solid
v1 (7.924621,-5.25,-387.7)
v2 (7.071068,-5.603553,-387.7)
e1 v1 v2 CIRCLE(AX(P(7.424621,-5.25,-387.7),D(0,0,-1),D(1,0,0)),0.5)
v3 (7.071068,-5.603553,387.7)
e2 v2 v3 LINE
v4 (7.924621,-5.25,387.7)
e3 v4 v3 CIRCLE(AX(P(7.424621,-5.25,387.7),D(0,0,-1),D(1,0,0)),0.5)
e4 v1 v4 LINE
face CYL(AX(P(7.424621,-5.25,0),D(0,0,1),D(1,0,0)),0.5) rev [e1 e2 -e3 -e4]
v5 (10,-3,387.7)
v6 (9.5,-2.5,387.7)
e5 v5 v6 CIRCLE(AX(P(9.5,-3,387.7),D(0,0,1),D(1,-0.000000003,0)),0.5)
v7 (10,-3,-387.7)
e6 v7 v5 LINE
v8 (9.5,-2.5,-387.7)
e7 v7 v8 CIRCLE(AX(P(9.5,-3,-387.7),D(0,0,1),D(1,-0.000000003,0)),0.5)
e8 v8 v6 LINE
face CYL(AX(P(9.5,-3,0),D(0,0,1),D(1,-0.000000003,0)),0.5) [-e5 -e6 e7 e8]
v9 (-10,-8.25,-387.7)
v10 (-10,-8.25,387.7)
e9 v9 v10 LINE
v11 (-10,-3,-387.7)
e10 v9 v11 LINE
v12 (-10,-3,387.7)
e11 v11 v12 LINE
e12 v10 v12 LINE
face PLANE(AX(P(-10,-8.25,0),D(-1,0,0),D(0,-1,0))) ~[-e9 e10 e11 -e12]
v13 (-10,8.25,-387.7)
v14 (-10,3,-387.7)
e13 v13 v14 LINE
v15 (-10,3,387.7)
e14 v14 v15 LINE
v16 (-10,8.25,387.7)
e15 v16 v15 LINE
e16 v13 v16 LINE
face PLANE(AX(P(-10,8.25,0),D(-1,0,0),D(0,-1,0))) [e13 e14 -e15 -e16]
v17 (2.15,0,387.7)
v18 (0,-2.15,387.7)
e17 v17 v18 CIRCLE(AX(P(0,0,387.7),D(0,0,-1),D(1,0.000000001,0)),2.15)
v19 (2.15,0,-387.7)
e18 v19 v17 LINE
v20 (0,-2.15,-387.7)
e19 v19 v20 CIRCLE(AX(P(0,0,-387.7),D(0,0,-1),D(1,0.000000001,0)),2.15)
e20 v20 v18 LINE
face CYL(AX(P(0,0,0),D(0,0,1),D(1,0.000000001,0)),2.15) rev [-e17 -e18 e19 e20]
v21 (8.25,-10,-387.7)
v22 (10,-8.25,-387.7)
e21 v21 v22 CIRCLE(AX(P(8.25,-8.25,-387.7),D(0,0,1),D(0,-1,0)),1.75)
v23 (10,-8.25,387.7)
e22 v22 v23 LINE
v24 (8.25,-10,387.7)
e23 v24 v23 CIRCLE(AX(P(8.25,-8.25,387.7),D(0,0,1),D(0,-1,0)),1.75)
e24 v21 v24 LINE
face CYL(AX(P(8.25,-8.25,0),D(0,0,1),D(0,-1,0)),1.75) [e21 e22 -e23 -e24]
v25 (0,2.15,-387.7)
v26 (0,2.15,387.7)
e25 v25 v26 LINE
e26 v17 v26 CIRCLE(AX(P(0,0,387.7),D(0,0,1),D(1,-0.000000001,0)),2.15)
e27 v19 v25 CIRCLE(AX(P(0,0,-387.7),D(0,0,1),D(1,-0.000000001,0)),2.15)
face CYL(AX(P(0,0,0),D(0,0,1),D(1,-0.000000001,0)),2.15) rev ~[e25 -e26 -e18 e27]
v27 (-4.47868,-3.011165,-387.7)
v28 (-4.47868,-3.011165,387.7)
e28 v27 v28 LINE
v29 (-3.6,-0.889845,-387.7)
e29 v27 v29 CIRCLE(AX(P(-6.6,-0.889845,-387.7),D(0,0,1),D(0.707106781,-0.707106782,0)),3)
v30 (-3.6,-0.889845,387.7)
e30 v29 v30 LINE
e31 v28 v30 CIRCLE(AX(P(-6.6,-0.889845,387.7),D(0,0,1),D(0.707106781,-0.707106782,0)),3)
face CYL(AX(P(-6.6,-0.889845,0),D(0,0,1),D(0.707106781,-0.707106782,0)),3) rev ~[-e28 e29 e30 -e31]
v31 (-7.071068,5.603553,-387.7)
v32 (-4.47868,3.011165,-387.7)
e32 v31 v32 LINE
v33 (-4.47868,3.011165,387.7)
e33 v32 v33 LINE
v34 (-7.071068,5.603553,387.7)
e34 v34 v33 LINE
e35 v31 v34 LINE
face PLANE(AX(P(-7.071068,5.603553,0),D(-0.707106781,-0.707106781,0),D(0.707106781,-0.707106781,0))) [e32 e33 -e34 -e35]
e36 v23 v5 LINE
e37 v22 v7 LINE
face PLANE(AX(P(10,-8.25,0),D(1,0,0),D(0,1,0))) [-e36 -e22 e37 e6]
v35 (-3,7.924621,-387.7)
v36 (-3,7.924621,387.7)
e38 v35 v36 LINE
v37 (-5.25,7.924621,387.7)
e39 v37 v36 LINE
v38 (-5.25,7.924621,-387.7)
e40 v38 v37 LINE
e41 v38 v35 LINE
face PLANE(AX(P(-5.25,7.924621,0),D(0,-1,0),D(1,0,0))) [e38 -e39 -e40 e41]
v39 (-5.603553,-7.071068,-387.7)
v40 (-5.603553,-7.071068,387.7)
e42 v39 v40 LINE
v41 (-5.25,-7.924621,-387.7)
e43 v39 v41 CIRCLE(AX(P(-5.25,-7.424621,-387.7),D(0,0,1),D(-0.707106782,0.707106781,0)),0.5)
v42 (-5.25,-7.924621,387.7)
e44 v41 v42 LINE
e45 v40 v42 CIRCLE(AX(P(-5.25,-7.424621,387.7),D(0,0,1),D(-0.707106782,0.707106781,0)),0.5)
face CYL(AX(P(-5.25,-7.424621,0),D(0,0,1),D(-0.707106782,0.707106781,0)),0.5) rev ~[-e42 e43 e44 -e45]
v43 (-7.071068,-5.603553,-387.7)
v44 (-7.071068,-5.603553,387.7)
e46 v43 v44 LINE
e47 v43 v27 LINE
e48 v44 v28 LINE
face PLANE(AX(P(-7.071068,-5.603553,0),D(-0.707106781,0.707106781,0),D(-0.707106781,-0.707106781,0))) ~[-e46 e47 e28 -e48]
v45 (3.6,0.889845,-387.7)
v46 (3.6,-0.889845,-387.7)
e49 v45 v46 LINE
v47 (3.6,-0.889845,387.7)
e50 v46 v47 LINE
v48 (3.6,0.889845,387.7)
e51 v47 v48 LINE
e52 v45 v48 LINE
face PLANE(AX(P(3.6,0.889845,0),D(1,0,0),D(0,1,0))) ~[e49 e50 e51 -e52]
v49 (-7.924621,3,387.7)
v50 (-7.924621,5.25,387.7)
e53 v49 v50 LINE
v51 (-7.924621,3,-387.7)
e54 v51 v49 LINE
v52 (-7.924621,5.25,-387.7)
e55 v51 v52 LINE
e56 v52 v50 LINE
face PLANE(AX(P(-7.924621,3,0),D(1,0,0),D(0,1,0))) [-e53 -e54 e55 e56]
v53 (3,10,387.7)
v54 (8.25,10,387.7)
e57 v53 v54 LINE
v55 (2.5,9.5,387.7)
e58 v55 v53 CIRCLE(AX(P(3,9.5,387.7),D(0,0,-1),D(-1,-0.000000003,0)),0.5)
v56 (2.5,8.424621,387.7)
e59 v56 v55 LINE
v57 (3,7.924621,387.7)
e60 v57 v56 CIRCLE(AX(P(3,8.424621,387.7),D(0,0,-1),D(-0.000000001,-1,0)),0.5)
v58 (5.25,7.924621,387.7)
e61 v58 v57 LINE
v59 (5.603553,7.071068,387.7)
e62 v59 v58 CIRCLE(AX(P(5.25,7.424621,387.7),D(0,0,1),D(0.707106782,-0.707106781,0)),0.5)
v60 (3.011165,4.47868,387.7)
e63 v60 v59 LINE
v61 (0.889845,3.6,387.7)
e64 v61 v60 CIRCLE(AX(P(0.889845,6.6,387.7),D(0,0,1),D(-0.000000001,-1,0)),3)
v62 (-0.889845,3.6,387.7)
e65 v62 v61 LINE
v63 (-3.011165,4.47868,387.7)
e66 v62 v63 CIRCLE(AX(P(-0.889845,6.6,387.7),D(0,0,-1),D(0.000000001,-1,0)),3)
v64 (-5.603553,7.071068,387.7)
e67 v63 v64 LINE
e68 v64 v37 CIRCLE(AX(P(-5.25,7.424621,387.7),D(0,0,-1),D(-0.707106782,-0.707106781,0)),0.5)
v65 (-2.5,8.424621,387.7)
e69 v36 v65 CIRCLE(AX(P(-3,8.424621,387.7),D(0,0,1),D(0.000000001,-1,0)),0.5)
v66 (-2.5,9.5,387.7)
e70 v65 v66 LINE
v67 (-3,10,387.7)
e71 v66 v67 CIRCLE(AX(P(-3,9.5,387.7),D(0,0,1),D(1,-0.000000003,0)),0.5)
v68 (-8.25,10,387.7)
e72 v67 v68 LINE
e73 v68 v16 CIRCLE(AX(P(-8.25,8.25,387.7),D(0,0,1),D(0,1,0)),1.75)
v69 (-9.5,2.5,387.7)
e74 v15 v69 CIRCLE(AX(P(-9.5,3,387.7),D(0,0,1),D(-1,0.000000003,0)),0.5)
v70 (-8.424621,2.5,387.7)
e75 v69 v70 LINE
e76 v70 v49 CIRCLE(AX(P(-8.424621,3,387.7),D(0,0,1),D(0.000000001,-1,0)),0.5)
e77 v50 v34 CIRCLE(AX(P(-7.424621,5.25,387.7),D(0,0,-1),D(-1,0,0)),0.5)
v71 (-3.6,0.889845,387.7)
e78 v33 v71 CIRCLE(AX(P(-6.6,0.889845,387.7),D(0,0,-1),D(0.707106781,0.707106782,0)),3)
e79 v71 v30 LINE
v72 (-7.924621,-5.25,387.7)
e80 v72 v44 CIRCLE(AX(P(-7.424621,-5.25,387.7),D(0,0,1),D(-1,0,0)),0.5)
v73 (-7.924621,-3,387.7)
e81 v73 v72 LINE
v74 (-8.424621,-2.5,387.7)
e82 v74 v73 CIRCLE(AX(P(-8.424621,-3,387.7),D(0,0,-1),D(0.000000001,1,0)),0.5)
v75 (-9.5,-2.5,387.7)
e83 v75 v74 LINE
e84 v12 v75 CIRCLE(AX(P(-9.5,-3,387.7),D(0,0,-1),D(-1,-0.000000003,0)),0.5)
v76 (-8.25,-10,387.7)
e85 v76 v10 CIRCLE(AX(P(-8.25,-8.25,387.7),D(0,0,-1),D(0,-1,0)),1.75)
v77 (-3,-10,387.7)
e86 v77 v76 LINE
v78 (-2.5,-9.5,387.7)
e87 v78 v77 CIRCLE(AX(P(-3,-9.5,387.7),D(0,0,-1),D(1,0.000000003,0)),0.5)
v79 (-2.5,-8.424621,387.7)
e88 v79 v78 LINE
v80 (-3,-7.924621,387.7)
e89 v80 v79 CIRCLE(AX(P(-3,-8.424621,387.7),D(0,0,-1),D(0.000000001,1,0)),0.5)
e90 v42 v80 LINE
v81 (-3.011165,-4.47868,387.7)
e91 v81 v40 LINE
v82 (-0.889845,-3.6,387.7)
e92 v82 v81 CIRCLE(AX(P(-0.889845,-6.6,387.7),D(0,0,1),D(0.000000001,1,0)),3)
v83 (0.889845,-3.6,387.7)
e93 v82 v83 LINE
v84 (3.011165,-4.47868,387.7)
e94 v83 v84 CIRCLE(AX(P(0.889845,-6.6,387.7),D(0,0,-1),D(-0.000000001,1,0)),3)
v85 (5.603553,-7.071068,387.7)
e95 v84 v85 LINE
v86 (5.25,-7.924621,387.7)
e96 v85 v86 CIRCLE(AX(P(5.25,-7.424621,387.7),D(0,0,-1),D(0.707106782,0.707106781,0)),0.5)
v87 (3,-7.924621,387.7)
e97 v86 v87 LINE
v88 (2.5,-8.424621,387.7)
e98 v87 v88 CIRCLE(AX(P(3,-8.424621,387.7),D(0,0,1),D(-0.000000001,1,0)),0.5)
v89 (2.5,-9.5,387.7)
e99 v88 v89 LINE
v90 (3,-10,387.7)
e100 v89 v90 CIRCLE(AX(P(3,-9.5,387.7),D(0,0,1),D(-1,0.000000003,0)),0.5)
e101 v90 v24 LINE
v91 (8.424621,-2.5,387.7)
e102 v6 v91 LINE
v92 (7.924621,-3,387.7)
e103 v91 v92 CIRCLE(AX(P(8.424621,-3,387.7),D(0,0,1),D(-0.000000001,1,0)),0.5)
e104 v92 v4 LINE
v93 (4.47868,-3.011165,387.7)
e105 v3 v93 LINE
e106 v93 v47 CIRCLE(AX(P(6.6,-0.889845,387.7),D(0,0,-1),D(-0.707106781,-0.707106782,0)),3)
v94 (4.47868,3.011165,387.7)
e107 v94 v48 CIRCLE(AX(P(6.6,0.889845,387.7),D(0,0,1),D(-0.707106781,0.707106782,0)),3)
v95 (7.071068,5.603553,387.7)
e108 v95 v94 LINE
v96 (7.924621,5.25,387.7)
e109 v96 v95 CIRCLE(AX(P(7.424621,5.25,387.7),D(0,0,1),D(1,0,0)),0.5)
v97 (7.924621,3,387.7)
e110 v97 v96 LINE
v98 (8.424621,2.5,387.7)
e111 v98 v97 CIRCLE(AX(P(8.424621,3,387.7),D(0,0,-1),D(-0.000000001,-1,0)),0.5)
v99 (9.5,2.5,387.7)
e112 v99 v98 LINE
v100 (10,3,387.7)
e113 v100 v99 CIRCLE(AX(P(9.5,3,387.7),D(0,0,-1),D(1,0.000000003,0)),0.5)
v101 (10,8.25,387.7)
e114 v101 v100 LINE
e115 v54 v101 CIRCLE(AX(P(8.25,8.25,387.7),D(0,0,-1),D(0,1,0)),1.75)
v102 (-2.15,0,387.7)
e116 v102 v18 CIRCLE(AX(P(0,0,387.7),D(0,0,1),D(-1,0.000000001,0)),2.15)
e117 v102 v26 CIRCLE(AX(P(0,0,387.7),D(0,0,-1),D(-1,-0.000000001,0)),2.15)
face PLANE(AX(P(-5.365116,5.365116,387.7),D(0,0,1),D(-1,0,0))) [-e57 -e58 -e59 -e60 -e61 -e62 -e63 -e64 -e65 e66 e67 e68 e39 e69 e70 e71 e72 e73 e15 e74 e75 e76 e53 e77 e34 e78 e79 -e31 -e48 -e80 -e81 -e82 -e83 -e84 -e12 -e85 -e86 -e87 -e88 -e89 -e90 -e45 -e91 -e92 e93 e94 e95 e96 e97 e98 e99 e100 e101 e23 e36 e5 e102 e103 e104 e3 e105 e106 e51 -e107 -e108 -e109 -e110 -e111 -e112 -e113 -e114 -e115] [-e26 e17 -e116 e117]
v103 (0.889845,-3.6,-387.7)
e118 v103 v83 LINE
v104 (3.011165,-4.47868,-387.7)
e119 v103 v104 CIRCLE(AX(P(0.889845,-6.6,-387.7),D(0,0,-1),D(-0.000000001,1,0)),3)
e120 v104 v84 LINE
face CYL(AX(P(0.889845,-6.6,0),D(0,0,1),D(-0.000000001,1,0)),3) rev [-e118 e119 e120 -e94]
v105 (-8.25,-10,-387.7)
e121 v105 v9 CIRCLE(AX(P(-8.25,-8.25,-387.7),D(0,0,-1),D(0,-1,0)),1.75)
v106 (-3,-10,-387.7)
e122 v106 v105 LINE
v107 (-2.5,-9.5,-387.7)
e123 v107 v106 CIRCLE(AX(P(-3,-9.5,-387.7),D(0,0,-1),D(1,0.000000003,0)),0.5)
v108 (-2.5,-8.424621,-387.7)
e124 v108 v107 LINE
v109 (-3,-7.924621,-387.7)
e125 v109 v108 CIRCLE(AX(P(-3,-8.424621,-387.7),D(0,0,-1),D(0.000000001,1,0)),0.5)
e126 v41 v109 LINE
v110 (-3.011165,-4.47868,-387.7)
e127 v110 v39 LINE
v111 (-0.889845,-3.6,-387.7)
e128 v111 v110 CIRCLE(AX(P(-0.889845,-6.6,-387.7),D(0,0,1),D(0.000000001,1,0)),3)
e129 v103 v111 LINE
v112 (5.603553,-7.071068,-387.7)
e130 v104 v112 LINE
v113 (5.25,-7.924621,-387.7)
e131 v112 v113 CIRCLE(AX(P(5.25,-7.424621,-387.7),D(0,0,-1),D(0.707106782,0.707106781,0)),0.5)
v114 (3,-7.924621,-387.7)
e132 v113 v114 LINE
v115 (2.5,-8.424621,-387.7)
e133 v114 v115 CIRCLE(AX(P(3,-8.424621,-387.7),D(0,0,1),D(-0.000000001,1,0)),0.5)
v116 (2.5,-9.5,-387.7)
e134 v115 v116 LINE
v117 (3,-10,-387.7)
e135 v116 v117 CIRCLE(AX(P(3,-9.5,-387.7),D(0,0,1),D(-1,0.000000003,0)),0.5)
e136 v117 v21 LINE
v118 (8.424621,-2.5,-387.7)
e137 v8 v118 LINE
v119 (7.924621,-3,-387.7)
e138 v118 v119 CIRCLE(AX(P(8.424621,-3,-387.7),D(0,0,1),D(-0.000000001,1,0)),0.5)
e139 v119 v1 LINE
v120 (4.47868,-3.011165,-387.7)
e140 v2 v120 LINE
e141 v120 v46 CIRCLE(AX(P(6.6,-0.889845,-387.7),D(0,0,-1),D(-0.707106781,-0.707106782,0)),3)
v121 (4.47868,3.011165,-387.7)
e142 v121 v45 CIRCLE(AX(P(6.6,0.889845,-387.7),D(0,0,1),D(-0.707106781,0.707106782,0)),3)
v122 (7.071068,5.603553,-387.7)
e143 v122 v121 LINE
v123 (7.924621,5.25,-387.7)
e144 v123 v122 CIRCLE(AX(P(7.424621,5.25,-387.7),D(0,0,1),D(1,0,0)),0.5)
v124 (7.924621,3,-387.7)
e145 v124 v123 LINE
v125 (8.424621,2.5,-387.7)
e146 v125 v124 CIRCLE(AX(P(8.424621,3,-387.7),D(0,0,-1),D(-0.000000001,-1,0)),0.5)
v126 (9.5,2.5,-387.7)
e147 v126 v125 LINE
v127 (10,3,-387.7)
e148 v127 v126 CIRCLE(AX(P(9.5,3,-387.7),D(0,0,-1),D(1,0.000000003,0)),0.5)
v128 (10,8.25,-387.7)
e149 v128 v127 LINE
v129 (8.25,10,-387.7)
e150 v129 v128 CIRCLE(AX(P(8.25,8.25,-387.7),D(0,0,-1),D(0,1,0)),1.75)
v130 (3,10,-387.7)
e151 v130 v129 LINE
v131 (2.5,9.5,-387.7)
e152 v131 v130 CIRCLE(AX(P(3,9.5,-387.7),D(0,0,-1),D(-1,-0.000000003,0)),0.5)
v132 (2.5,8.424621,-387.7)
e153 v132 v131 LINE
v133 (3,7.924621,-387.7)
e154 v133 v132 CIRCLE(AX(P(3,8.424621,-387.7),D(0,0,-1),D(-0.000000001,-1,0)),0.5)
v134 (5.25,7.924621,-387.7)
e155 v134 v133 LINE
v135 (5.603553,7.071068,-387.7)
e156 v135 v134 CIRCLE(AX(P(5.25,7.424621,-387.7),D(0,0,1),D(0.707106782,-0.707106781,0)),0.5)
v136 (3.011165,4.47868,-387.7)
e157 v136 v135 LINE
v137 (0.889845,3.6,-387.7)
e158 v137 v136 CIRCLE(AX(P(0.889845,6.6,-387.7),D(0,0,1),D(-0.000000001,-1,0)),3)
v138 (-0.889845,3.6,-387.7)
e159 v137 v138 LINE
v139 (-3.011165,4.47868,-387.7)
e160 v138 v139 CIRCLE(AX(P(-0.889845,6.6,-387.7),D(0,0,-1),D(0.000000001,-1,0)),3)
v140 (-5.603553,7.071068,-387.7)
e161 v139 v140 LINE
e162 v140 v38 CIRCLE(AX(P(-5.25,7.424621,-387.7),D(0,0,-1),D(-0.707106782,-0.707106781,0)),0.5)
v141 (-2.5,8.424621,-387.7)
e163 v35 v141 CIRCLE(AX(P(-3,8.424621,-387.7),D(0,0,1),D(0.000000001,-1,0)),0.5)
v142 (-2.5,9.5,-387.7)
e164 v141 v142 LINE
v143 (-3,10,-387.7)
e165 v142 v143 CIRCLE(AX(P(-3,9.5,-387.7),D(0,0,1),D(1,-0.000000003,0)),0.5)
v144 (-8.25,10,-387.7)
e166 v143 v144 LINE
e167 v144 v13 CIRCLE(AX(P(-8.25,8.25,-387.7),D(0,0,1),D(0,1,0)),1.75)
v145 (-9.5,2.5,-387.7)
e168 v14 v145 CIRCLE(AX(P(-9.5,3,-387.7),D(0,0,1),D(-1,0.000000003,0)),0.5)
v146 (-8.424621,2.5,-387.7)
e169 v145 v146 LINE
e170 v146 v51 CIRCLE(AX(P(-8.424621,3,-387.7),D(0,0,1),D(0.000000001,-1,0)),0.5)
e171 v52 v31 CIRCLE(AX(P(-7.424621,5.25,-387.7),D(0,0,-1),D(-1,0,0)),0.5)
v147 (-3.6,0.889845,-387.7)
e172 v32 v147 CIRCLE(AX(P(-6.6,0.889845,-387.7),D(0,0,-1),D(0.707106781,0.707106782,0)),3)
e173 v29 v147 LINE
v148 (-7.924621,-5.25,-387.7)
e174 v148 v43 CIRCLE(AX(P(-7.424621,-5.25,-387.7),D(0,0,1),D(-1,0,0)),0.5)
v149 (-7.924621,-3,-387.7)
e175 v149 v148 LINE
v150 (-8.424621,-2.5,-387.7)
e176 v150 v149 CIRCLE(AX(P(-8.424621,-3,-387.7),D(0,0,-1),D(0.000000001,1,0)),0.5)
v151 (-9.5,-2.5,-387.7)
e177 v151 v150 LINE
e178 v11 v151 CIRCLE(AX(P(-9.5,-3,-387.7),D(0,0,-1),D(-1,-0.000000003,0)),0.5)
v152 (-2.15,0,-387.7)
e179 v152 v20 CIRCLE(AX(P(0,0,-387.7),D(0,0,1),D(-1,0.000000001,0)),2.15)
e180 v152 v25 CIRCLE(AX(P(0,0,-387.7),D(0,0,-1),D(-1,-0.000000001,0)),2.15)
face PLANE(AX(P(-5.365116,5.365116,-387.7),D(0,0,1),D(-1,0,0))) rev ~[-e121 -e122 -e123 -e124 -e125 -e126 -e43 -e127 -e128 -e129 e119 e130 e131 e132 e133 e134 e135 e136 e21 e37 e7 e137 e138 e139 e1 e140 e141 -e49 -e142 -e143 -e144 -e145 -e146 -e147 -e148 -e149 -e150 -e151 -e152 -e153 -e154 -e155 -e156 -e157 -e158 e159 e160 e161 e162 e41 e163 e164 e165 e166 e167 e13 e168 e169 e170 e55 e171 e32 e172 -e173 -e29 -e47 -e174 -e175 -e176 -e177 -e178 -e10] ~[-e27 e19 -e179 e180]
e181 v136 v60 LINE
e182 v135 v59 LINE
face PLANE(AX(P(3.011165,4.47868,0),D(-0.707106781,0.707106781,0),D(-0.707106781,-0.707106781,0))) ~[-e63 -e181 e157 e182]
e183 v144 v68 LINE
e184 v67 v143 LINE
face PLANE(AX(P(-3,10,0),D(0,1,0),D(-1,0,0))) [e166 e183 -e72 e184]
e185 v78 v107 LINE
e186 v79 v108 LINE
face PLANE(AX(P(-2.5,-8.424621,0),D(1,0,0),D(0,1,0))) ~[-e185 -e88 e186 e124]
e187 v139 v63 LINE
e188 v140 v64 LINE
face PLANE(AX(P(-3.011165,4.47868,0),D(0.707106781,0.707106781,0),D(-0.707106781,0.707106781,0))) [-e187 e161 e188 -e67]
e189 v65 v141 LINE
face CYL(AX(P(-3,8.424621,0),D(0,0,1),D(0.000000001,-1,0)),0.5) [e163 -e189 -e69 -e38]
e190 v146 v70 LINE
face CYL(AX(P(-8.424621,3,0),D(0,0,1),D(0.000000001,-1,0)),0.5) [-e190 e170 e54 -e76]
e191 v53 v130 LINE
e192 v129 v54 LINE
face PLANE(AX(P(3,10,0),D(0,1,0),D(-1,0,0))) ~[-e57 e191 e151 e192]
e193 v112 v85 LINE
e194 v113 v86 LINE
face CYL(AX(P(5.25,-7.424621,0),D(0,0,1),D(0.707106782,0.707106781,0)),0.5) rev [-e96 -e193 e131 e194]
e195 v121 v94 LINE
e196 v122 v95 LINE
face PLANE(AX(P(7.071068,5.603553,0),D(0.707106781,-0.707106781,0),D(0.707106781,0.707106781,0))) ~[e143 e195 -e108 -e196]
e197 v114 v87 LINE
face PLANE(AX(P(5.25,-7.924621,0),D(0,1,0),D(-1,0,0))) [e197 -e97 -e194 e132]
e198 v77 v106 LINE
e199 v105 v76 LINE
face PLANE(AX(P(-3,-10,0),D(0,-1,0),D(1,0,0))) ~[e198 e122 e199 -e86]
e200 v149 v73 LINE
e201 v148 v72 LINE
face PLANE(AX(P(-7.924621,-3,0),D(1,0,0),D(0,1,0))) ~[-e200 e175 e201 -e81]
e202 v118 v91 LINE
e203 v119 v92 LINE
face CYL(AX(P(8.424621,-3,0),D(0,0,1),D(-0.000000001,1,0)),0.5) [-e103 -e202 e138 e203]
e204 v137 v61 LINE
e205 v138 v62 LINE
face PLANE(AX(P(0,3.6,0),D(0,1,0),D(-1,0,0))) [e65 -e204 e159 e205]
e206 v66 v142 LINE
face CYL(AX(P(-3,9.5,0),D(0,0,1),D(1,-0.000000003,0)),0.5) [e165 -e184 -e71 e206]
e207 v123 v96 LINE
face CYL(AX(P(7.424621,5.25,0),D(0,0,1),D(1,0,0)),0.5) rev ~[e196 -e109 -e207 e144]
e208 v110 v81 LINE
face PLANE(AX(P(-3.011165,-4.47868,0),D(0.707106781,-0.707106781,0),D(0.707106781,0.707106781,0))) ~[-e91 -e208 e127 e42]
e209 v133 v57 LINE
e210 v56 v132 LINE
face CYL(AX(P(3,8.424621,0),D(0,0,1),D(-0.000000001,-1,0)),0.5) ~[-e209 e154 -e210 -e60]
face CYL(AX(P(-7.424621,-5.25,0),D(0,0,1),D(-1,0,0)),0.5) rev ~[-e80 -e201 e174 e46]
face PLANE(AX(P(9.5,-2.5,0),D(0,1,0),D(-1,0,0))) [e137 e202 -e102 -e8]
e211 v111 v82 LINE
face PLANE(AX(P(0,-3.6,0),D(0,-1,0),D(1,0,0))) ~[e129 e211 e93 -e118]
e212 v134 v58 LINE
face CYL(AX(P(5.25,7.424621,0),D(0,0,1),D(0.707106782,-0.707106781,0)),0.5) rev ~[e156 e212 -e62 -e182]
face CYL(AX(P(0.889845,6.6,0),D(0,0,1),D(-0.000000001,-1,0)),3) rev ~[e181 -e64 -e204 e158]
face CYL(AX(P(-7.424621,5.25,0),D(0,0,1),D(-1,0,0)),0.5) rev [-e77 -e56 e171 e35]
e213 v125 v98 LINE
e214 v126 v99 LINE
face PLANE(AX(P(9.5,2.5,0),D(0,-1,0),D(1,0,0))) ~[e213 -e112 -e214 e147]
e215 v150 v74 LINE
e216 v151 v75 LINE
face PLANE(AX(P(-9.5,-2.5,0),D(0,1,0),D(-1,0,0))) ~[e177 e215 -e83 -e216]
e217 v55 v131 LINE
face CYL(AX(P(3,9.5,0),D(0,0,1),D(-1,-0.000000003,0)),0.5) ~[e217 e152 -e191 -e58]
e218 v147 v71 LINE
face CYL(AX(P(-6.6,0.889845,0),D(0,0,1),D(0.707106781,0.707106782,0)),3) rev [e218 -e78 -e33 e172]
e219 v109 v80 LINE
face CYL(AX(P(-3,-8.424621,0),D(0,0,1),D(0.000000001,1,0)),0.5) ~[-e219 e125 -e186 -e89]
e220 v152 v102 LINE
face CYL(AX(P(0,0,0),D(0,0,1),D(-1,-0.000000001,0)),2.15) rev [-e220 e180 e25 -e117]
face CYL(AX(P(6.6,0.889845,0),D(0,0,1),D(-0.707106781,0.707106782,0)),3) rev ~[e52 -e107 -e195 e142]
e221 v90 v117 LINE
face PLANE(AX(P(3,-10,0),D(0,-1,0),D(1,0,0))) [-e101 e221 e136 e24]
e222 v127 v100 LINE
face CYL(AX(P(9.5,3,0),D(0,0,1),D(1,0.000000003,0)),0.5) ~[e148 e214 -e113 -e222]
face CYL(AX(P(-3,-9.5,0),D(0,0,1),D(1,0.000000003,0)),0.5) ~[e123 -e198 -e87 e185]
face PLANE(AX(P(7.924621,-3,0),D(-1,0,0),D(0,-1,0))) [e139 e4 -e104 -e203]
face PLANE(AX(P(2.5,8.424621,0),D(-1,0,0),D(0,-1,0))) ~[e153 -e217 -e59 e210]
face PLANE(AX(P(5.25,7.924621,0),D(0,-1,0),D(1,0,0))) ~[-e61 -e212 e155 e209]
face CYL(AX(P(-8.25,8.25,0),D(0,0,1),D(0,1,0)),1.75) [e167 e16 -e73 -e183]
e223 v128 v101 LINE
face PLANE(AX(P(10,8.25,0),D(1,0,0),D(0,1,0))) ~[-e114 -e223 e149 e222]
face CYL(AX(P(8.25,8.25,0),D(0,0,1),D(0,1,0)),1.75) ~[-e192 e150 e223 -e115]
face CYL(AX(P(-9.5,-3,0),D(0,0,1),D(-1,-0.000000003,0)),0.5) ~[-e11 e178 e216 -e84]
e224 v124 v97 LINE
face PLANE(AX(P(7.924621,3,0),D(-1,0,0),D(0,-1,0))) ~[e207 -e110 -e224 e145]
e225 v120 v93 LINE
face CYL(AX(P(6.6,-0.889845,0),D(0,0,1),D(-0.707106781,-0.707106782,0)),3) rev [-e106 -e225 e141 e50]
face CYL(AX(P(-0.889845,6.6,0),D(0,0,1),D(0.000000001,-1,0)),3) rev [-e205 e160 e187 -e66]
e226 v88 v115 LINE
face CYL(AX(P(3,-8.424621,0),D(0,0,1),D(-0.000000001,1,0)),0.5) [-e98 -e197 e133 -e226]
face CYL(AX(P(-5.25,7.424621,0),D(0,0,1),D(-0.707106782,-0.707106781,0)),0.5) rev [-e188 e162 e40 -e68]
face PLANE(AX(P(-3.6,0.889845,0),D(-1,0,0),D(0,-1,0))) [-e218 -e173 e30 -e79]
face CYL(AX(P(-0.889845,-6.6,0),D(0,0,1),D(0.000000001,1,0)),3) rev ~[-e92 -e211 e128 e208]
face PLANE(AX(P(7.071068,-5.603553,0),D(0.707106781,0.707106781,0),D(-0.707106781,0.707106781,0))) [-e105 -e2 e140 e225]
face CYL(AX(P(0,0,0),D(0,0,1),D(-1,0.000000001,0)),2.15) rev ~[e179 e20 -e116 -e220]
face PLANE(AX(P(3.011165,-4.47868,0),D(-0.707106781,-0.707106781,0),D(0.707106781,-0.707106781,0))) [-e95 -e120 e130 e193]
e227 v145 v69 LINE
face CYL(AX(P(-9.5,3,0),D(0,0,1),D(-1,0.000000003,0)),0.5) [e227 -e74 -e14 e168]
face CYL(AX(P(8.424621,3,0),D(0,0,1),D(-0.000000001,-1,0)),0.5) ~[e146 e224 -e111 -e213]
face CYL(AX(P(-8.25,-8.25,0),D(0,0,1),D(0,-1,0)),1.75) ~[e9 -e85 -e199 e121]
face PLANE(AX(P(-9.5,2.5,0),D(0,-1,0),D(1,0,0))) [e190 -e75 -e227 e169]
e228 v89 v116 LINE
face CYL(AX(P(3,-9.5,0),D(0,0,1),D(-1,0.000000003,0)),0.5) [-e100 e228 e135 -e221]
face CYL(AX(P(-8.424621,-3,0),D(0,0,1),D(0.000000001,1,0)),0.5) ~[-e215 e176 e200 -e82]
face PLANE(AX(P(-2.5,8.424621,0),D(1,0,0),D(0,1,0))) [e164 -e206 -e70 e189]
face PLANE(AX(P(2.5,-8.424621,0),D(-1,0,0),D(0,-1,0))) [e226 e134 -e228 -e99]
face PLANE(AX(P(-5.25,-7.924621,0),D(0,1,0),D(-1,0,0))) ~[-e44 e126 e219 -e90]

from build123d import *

# Parameters (mm, degrees)
BOSS_EXTRUDE1_DEPTH = 387.7


with BuildPart() as part:
    # Sketch4 → Boss-Extrude1 (new body, symmetric)
    with BuildSketch(Plane.XY):
        with BuildLine():
            Line((3, -10), (8.25, -10))
            ThreePointArc((8.25, -10), (9.487436867, -9.487436867), (10, -8.25))
            Line((10, -8.25), (10, -3))
            ThreePointArc((10, -3), (9.853553391, -2.646446609), (9.5, -2.5))
            Line((9.5, -2.5), (8.424621202, -2.5))
            ThreePointArc((8.424621202, -2.5), (8.071067812, -2.646446609), (7.924621202, -3))
            Line((7.924621202, -3), (7.924621202, -5.25))
            ThreePointArc((7.924621202, -5.25), (7.615962919, -5.711939766), (7.071067812, -5.603553391))
            Line((7.071067812, -5.603553391), (4.478679656, -3.011165235))
            ThreePointArc((4.478679656, -3.011165235), (3.828361402, -2.037895189), (3.6, -0.889844892))
            Line((3.6, -0.889844892), (3.6, 0))
            Line((3.6, 0), (2.15, 0))
            ThreePointArc((2.15, 0), (1.52027958, -1.52027958), (0, -2.15))
            Line((0, -2.15), (0, -3.6))
            Line((0, -3.6), (0.889844892, -3.6))
            ThreePointArc((0.889844892, -3.6), (2.037895189, -3.828361402), (3.011165235, -4.478679656))
            Line((3.011165235, -4.478679656), (5.603553391, -7.071067812))
            ThreePointArc((5.603553391, -7.071067812), (5.711939766, -7.615962919), (5.25, -7.924621202))
            Line((5.25, -7.924621202), (3, -7.924621202))
            ThreePointArc((3, -7.924621202), (2.646446609, -8.071067812), (2.5, -8.424621202))
            Line((2.5, -8.424621202), (2.5, -9.5))
            ThreePointArc((2.5, -9.5), (2.646446609, -9.853553391), (3, -10))
        make_face()
    extrude(amount=BOSS_EXTRUDE1_DEPTH, both=True)

    # Mirror1: part across plane


with BuildPart() as part_1:
    add(part.part)
    add(part.part.mirror(Plane(origin=(0, 0, 0), x_dir=(0, 0, 1), z_dir=(1, 0, 0))))

    # Mirror2: part across plane


with BuildPart() as part_2:
    add(part_1.part)
    add(part_1.part.mirror(Plane.ZX))


solid = part_2.part
